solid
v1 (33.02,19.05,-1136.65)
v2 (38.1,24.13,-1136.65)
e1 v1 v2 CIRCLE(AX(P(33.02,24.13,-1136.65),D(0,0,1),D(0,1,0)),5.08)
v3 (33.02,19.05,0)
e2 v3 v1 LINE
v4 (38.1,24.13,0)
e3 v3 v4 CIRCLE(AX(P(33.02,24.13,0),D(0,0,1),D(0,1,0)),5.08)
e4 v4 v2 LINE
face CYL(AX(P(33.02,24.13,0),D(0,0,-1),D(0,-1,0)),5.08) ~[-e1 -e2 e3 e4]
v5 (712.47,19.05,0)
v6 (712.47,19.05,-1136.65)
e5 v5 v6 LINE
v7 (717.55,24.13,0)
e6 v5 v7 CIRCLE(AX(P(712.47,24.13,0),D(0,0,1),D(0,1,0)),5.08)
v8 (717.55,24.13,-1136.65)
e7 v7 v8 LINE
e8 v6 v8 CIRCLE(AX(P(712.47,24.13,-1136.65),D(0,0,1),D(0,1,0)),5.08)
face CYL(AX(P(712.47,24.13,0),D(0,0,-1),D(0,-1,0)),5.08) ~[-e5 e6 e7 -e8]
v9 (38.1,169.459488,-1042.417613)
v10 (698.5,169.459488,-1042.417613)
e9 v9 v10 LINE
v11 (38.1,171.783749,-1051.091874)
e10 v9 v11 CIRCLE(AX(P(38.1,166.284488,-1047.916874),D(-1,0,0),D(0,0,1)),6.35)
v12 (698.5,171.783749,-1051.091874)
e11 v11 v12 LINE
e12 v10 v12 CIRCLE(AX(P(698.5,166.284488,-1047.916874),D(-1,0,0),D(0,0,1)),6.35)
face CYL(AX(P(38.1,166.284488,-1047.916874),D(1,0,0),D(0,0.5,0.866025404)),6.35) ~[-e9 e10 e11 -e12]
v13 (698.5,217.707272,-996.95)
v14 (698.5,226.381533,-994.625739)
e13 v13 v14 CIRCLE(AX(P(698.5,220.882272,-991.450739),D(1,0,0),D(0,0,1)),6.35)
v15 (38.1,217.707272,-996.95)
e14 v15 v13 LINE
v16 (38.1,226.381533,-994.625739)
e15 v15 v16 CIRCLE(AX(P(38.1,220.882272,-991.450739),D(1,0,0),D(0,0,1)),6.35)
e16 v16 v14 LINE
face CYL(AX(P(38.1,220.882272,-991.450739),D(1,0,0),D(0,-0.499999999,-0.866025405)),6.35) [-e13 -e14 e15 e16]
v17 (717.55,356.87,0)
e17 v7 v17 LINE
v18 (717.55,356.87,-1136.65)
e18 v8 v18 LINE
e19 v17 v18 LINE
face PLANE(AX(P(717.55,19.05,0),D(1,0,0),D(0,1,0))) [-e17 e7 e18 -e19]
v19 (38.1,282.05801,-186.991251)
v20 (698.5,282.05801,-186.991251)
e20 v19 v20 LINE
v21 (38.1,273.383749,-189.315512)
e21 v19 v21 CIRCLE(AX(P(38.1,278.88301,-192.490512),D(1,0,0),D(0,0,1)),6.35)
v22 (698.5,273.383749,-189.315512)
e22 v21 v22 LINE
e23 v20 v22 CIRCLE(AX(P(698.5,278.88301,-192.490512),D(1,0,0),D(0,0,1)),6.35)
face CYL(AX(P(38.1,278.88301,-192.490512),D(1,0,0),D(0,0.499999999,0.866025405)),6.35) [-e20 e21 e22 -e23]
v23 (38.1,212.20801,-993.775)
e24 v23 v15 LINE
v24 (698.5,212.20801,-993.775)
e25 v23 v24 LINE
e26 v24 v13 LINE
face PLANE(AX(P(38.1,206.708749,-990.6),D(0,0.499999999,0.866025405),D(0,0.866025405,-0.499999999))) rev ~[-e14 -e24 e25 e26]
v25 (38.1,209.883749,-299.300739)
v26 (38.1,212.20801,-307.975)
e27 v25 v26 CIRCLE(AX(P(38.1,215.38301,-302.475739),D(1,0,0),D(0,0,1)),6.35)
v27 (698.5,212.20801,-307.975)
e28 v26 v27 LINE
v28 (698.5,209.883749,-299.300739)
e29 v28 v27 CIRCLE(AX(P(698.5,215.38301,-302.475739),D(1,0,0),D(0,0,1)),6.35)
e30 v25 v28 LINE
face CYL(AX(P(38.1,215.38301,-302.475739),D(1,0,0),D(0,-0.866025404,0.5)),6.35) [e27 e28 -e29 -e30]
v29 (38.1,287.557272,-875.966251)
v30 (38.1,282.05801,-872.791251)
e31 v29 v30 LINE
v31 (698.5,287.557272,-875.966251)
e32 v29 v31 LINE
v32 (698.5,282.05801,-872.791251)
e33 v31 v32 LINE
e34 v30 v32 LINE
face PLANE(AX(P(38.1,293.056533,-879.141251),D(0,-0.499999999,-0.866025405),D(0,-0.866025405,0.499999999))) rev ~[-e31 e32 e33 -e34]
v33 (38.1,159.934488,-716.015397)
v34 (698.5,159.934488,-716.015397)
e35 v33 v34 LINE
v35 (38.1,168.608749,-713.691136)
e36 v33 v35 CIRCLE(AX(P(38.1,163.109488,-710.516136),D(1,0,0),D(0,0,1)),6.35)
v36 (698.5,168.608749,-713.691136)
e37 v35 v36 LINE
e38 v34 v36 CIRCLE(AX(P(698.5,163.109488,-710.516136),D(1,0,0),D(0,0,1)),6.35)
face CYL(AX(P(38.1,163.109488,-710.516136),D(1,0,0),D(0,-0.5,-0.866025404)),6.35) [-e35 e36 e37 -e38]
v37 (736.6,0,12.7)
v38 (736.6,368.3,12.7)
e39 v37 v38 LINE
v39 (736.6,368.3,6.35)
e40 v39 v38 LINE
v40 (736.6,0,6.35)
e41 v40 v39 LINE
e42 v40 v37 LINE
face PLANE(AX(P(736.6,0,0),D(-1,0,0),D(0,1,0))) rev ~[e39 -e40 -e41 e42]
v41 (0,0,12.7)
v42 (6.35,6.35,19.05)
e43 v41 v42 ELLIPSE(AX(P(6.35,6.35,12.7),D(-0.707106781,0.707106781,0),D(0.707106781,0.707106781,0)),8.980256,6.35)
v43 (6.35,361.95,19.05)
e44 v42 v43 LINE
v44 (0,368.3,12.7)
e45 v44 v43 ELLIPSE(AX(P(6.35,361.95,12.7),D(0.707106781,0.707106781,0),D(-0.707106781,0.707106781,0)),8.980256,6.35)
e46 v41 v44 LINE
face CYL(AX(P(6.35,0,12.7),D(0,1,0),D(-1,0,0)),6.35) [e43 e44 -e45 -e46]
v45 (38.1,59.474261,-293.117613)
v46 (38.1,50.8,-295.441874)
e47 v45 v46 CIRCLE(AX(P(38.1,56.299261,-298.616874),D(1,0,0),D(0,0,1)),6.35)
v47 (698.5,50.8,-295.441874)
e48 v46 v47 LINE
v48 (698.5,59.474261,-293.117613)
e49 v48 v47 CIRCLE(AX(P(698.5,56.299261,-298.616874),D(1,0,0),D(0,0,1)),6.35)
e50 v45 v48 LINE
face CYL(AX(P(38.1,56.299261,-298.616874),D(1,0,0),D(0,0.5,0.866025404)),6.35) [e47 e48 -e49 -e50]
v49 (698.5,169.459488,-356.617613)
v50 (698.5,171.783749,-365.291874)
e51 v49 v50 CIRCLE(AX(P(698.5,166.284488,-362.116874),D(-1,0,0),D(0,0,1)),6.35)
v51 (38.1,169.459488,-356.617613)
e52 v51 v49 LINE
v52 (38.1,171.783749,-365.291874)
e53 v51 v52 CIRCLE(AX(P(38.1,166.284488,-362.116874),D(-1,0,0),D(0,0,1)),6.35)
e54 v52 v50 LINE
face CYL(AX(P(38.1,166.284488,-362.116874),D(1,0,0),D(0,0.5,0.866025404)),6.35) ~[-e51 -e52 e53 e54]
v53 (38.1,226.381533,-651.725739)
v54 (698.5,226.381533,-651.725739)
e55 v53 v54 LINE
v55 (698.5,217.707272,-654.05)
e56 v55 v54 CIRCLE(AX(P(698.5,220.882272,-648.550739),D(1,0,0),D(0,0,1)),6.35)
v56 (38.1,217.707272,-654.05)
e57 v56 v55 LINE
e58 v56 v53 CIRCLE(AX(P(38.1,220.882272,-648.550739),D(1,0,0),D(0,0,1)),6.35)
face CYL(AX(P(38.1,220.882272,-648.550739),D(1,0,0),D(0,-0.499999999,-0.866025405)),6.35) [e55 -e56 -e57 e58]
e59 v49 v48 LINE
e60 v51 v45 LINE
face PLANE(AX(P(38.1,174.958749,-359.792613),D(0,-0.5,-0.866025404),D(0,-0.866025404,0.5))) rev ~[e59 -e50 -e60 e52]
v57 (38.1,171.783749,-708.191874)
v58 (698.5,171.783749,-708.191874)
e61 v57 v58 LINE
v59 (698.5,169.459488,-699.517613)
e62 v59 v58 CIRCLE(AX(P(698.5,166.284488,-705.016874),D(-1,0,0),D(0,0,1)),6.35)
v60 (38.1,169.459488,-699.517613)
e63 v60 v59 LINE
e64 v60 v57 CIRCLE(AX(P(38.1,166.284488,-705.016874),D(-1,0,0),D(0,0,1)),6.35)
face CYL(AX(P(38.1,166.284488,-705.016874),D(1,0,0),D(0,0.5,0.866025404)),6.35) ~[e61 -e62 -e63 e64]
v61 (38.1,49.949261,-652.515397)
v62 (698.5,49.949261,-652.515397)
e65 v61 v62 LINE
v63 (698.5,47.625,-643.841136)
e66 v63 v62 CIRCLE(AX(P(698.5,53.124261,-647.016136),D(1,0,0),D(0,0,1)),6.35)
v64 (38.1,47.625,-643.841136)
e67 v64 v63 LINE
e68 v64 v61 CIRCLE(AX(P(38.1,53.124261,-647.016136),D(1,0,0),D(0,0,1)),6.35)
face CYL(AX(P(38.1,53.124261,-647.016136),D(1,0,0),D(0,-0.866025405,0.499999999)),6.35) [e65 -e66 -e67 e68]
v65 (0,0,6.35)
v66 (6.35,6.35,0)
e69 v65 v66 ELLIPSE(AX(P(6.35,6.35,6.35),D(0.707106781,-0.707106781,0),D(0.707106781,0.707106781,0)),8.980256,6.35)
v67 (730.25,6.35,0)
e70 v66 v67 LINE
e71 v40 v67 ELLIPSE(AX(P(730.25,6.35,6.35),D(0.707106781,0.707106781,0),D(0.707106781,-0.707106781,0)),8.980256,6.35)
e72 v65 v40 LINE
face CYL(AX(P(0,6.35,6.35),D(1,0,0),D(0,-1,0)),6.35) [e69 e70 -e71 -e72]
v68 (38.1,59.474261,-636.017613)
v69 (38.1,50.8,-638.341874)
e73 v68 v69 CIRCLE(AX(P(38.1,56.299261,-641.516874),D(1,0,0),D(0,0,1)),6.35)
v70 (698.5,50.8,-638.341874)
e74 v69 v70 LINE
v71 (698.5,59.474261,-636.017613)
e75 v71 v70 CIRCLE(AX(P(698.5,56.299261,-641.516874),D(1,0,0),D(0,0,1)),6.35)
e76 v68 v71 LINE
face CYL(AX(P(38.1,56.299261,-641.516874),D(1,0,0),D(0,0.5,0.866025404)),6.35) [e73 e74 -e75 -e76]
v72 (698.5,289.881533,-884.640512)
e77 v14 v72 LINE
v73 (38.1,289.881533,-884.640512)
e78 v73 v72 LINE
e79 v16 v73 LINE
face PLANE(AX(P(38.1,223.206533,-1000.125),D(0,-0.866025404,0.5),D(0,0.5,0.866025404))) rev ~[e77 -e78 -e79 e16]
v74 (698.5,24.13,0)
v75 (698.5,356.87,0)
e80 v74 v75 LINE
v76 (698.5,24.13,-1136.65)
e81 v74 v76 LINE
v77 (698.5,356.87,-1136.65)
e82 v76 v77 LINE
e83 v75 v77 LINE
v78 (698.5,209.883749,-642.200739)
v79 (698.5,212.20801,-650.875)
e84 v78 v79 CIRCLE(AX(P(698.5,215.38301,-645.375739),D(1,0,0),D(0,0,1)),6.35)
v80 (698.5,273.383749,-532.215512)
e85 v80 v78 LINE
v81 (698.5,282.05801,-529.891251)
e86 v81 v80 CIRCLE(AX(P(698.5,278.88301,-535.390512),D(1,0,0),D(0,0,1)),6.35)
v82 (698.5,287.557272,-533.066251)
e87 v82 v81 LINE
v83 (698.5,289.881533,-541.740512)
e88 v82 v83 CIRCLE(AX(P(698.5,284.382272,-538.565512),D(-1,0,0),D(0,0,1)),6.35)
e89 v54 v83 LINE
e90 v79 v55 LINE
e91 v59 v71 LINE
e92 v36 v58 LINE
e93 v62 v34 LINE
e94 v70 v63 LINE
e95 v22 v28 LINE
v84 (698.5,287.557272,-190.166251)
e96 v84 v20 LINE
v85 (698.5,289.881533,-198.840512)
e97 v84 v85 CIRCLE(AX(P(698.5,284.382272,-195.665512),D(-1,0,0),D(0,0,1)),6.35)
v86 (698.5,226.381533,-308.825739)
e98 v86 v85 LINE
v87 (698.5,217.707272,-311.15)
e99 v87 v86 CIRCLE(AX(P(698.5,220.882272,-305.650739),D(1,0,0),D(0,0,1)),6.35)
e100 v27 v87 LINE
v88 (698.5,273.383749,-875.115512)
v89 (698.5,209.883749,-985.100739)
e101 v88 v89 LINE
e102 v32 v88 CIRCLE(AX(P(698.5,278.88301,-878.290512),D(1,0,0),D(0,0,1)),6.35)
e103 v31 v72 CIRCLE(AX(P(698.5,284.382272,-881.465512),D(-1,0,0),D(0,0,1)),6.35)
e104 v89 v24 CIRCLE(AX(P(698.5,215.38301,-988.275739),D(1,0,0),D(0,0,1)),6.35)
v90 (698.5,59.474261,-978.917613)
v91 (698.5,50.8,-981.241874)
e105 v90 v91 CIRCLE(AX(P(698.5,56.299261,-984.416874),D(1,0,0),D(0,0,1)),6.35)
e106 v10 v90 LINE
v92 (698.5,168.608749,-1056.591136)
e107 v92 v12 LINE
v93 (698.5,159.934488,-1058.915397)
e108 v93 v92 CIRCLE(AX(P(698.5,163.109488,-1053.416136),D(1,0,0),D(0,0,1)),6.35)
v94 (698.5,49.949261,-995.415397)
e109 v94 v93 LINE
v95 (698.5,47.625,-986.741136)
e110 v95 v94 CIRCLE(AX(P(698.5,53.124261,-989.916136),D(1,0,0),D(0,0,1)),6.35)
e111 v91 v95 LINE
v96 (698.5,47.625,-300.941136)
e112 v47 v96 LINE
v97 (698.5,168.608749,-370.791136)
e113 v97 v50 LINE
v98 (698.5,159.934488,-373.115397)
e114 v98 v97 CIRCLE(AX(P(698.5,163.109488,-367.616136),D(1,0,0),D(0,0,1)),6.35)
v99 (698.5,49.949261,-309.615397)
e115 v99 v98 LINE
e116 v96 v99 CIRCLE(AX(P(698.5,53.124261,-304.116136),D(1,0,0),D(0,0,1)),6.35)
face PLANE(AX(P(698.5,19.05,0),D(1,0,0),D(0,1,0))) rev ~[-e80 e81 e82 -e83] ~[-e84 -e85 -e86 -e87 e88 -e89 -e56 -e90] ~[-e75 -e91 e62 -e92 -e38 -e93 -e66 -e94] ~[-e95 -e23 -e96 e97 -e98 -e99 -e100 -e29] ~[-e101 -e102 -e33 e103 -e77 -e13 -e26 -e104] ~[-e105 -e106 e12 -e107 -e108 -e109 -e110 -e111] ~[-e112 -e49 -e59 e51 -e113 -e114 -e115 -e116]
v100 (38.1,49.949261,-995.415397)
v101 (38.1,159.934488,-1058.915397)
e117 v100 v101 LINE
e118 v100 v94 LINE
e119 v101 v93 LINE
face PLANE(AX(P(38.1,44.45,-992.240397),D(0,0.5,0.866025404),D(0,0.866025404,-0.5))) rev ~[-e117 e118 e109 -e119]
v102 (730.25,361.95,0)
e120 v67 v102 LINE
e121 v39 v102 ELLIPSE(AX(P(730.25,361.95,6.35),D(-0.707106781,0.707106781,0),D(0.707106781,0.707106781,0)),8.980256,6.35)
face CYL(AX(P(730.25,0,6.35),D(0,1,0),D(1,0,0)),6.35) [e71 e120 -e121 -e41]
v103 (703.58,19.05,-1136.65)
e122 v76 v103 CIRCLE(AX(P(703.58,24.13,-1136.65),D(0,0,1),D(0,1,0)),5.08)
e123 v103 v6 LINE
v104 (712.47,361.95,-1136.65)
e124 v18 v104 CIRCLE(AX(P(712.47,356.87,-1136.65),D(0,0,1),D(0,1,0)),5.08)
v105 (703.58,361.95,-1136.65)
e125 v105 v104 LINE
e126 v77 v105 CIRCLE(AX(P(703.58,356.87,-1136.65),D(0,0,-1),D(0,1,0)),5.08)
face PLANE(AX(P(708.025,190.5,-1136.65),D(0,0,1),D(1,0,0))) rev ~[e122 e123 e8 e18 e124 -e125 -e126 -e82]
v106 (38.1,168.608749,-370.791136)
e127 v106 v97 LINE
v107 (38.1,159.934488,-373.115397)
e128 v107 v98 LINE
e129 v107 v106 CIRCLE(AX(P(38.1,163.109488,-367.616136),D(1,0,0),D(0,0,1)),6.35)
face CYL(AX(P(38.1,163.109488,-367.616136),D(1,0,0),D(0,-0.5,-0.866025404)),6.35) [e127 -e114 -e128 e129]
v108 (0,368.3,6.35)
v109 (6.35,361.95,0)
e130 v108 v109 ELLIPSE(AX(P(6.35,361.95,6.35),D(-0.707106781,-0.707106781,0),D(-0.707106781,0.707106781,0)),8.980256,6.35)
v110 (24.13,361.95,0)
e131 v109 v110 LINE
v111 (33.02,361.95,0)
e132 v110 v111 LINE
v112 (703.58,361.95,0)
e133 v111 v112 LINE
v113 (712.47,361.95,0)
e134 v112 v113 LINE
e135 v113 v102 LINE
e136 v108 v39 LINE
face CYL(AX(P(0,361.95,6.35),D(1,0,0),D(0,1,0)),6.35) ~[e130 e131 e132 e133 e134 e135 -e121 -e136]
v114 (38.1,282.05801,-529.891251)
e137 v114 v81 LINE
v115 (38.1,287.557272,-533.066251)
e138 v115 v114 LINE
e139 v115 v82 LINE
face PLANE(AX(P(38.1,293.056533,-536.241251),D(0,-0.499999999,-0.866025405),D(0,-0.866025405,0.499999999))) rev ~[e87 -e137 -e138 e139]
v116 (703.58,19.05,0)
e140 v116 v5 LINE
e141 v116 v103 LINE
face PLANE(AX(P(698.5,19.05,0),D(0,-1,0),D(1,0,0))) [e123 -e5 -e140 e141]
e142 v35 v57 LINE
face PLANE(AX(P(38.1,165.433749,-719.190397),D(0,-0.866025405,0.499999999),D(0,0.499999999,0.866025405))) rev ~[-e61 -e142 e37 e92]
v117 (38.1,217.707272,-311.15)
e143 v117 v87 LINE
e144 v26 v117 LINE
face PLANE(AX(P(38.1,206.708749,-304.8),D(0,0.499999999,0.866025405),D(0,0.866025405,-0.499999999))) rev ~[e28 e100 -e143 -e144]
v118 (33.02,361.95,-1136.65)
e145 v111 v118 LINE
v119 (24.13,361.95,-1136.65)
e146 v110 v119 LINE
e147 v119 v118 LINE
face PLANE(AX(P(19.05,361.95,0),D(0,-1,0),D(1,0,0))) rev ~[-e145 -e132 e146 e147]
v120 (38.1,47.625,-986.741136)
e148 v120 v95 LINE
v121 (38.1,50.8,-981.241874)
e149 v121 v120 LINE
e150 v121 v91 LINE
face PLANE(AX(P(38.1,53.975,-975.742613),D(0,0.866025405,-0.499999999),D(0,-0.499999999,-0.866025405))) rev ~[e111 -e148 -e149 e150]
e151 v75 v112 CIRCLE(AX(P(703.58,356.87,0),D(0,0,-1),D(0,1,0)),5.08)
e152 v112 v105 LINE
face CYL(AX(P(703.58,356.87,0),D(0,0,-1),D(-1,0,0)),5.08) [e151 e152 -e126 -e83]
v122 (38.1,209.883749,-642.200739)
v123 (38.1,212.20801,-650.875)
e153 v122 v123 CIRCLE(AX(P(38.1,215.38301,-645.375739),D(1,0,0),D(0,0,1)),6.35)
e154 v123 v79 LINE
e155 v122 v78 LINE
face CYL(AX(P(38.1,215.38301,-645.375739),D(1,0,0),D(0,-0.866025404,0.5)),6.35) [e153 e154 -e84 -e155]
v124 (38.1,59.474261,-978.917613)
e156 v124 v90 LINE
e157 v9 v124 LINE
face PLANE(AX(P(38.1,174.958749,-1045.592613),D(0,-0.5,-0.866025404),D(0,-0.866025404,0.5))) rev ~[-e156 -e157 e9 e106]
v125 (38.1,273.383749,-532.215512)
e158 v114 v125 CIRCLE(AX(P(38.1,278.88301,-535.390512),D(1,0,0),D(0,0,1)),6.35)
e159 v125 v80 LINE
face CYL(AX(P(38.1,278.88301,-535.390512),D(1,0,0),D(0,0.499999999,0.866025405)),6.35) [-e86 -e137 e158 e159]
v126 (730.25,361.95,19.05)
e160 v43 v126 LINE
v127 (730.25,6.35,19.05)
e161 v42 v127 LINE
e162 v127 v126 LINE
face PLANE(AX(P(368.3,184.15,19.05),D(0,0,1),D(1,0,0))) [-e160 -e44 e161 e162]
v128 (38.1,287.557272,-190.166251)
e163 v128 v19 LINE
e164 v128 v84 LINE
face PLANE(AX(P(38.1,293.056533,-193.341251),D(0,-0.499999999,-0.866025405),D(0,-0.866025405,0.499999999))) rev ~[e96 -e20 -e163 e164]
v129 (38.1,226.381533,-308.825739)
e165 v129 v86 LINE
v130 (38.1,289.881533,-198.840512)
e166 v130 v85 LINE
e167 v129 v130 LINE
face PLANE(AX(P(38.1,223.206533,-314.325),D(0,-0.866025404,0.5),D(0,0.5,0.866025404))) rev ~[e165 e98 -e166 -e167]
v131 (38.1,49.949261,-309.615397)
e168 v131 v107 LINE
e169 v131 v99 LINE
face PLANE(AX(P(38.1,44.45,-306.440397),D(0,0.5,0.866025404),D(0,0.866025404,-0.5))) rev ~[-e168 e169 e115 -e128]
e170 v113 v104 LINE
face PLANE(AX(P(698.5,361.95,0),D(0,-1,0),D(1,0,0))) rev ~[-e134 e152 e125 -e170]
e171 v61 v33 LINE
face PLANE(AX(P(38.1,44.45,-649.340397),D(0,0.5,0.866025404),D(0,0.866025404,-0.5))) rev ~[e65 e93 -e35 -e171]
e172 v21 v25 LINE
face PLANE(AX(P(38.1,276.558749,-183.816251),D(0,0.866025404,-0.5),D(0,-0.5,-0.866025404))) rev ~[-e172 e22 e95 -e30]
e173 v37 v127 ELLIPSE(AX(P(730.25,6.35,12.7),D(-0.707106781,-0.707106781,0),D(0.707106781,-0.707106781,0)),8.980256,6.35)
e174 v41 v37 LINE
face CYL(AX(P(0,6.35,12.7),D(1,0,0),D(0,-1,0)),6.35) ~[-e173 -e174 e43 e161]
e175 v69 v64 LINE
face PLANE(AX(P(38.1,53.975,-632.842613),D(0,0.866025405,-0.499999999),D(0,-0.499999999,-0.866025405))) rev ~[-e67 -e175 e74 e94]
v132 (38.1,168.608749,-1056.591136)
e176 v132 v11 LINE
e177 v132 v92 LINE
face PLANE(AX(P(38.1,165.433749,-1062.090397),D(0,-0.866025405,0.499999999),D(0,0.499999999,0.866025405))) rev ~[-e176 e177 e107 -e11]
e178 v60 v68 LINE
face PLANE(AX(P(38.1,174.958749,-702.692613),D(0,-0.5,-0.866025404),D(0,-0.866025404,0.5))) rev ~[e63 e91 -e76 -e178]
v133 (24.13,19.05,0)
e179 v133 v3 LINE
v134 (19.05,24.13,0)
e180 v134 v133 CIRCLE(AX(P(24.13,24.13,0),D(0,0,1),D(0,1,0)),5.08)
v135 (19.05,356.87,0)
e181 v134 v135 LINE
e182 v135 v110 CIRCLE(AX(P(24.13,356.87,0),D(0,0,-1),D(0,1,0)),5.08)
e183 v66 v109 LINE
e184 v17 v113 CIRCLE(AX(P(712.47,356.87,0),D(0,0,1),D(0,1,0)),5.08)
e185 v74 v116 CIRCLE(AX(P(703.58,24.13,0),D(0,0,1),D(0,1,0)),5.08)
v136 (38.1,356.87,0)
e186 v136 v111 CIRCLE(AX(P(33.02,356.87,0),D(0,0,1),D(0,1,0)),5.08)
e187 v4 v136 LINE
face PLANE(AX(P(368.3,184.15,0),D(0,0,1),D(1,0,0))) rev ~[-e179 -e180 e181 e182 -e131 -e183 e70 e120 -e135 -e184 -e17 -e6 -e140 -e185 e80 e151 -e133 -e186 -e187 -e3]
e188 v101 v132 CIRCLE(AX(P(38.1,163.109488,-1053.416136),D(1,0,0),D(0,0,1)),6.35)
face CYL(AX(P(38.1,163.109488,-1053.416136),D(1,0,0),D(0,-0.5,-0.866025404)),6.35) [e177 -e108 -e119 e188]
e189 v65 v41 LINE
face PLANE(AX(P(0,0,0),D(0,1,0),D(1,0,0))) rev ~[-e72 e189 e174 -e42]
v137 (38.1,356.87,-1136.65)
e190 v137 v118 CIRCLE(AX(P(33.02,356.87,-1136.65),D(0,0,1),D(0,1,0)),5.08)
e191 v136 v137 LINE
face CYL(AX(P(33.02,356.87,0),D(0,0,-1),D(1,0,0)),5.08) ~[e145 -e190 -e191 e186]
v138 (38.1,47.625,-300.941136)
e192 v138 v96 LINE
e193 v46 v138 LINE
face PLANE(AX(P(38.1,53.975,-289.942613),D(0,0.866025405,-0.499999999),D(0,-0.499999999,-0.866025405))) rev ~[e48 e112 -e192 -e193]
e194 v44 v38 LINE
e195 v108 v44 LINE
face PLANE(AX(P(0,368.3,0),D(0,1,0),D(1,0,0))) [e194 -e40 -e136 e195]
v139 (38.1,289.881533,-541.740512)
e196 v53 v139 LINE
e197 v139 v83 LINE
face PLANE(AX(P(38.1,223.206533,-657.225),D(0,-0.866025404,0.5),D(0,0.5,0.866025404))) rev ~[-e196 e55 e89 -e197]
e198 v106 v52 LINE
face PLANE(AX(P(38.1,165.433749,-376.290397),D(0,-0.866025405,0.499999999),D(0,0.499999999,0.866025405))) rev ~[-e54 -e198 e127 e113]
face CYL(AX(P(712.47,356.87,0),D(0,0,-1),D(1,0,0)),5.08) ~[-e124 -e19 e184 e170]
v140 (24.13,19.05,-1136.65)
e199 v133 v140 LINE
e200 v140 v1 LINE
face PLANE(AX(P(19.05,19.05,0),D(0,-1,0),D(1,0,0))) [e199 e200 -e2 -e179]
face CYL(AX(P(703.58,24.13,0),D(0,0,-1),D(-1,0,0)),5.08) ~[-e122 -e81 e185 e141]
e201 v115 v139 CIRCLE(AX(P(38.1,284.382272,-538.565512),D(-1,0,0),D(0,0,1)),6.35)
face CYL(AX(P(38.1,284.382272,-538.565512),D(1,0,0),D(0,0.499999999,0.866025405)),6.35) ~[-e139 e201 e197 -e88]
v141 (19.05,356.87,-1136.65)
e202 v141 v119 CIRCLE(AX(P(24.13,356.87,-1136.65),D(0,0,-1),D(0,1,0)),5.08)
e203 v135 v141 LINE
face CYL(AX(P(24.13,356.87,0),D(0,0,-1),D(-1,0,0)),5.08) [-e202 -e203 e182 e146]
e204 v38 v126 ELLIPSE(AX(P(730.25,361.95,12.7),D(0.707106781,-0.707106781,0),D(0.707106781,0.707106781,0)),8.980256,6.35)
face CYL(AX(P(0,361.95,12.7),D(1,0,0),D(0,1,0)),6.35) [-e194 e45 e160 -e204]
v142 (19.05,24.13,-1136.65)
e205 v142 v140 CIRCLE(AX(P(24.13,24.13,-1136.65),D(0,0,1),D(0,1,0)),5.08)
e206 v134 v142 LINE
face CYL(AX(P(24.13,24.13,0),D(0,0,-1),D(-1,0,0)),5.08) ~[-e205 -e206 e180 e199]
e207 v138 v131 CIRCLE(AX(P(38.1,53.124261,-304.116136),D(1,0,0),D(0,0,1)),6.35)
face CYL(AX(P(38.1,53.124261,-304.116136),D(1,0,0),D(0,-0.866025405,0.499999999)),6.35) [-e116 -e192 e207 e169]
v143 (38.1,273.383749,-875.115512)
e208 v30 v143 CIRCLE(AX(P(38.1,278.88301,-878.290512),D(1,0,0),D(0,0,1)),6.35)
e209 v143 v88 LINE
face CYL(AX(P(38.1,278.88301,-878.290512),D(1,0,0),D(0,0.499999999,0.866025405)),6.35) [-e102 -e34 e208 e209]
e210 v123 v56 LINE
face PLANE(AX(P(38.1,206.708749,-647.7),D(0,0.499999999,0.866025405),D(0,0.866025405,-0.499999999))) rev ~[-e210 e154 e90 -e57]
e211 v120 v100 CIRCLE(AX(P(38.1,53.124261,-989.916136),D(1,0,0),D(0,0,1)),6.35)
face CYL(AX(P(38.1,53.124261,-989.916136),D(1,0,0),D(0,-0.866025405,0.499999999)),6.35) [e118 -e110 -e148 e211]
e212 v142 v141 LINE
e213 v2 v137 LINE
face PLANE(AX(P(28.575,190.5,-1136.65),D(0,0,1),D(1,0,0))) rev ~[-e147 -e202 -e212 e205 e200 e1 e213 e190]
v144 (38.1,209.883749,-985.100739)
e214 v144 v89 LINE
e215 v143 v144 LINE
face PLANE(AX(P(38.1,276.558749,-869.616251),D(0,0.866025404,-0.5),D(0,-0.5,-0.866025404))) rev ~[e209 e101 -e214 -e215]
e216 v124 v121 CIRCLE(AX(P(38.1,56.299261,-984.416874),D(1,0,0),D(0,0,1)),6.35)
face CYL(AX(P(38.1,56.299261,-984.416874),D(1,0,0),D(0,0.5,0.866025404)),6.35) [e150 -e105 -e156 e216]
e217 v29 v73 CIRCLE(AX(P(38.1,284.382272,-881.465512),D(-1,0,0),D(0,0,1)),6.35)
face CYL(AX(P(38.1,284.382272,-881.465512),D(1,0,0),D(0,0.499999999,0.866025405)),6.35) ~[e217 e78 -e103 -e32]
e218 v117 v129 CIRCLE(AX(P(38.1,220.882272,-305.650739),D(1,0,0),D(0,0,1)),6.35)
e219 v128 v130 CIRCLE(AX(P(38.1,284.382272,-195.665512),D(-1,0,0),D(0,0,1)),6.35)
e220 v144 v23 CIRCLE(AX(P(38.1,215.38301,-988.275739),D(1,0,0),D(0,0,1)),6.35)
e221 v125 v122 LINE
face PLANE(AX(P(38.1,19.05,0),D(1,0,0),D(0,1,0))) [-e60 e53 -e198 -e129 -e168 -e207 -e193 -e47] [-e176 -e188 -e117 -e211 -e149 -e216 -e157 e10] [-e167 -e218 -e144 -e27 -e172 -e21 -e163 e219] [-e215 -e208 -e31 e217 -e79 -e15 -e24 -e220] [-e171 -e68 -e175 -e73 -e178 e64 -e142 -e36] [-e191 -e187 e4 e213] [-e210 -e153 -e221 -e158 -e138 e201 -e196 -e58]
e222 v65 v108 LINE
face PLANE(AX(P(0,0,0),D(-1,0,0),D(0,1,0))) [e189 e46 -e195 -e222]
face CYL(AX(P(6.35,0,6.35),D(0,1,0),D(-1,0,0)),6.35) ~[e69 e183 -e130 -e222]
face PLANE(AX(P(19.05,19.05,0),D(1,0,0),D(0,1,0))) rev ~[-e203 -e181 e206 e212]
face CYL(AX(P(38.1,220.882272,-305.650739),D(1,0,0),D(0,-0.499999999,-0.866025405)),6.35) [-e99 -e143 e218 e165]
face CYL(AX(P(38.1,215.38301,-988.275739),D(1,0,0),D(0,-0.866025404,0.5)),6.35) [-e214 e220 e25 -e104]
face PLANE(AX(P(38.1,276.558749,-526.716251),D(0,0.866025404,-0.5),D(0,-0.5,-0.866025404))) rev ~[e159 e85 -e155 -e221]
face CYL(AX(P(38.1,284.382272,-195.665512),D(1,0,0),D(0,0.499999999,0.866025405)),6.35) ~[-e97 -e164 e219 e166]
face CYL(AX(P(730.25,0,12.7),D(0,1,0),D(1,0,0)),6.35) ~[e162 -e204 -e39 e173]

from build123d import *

# Parameters (mm, degrees)
F0_W     = 736.6
F0_H     = 368.3
F2_DEPTH = 19.05
F3_R     = 6.35
F1_W     = 19.05
F1_H     = 342.9
F4_DEPTH = 1136.65
F5_R     = 5.08
F7_DEPTH = 660.4
F8_R     = 6.35


with BuildPart() as f2:
    # F0 (on Top) → F2 (new body)
    with BuildSketch(Plane.XY):
        with Locations((368.3, 184.15)):
            Rectangle(F0_W, F0_H)
    extrude(amount=F2_DEPTH)

    # F3
    f3_edges = [f2.edges().sort_by_distance(p)[0] for p in [
        (0, 184.15, 19.05),
        (368.3, 0, 19.05),
        (736.6, 184.15, 19.05),
        (368.3, 368.3, 19.05),
        (0, 184.15, 0),
        (368.3, 0, 0),
        (736.6, 184.15, 0),
        (368.3, 368.3, 0),
    ]]
    fillet(f3_edges, radius=F3_R)

    # F1 (on Top) → F4 (join)
    with BuildSketch(Plane.XY):
        with Locations((28.575, 190.5)):
            Rectangle(F1_W, F1_H)
        with Locations((708.025, 190.5)):
            Rectangle(F1_W, F1_H)
    extrude(amount=-F4_DEPTH)

    # F5
    f5_edges = [f2.edges().sort_by_distance(p)[0] for p in [
        (38.1, 19.05, -568.325),
        (38.1, 361.95, -568.325),
        (19.05, 361.95, -568.325),
        (19.05, 19.05, -568.325),
        (698.5, 361.95, -568.325),
        (698.5, 19.05, -568.325),
        (717.55, 19.05, -568.325),
        (717.55, 361.95, -568.325),
    ]]
    fillet(f5_edges, radius=F5_R)

    # F6 (on face) → F7 (join)
    with BuildSketch(Plane.YZ.offset(38.1)):
        Polygon((174.958749, -359.792613), (53.975, -289.942613), (44.45, -306.440397), (165.433749, -376.290397), align=None)
        Polygon((293.056533, -193.341251), (276.558749, -183.816251), (206.708749, -304.8), (223.206533, -314.325), align=None)
        Polygon((174.958749, -702.692613), (53.975, -632.842613), (44.45, -649.340397), (165.433749, -719.190397), align=None)
        Polygon((293.056533, -536.241251), (276.558749, -526.716251), (206.708749, -647.7), (223.206533, -657.225), align=None)
        Polygon((174.958749, -1045.592613), (53.975, -975.742613), (44.45, -992.240397), (165.433749, -1062.090397), align=None)
        Polygon((293.056533, -879.141251), (276.558749, -869.616251), (206.708749, -990.6), (223.206533, -1000.125), align=None)
    extrude(amount=F7_DEPTH)

    # F8
    f8_edges = [f2.edges().sort_by_distance(p)[0] for p in [
        (368.3, 276.558749, -183.816251),
        (368.3, 206.708749, -304.8),
        (368.3, 53.975, -289.942613),
        (368.3, 44.45, -306.440397),
        (368.3, 276.558749, -526.716251),
        (368.3, 206.708749, -647.7),
        (368.3, 53.975, -632.842613),
        (368.3, 44.45, -649.340397),
        (368.3, 276.558749, -869.616251),
        (368.3, 206.708749, -990.6),
        (368.3, 53.975, -975.742613),
        (368.3, 44.45, -992.240397),
        (368.3, 165.433749, -1062.090397),
        (368.3, 174.958749, -1045.592613),
        (368.3, 223.206533, -1000.125),
        (368.3, 293.056533, -879.141251),
        (368.3, 165.433749, -719.190397),
        (368.3, 174.958749, -702.692613),
        (368.3, 223.206533, -657.225),
        (368.3, 293.056533, -536.241251),
        (368.3, 165.433749, -376.290397),
        (368.3, 174.958749, -359.792613),
        (368.3, 223.206533, -314.325),
        (368.3, 293.056533, -193.341251),
    ]]
    fillet(f8_edges, radius=F8_R)


solid = f2.part
